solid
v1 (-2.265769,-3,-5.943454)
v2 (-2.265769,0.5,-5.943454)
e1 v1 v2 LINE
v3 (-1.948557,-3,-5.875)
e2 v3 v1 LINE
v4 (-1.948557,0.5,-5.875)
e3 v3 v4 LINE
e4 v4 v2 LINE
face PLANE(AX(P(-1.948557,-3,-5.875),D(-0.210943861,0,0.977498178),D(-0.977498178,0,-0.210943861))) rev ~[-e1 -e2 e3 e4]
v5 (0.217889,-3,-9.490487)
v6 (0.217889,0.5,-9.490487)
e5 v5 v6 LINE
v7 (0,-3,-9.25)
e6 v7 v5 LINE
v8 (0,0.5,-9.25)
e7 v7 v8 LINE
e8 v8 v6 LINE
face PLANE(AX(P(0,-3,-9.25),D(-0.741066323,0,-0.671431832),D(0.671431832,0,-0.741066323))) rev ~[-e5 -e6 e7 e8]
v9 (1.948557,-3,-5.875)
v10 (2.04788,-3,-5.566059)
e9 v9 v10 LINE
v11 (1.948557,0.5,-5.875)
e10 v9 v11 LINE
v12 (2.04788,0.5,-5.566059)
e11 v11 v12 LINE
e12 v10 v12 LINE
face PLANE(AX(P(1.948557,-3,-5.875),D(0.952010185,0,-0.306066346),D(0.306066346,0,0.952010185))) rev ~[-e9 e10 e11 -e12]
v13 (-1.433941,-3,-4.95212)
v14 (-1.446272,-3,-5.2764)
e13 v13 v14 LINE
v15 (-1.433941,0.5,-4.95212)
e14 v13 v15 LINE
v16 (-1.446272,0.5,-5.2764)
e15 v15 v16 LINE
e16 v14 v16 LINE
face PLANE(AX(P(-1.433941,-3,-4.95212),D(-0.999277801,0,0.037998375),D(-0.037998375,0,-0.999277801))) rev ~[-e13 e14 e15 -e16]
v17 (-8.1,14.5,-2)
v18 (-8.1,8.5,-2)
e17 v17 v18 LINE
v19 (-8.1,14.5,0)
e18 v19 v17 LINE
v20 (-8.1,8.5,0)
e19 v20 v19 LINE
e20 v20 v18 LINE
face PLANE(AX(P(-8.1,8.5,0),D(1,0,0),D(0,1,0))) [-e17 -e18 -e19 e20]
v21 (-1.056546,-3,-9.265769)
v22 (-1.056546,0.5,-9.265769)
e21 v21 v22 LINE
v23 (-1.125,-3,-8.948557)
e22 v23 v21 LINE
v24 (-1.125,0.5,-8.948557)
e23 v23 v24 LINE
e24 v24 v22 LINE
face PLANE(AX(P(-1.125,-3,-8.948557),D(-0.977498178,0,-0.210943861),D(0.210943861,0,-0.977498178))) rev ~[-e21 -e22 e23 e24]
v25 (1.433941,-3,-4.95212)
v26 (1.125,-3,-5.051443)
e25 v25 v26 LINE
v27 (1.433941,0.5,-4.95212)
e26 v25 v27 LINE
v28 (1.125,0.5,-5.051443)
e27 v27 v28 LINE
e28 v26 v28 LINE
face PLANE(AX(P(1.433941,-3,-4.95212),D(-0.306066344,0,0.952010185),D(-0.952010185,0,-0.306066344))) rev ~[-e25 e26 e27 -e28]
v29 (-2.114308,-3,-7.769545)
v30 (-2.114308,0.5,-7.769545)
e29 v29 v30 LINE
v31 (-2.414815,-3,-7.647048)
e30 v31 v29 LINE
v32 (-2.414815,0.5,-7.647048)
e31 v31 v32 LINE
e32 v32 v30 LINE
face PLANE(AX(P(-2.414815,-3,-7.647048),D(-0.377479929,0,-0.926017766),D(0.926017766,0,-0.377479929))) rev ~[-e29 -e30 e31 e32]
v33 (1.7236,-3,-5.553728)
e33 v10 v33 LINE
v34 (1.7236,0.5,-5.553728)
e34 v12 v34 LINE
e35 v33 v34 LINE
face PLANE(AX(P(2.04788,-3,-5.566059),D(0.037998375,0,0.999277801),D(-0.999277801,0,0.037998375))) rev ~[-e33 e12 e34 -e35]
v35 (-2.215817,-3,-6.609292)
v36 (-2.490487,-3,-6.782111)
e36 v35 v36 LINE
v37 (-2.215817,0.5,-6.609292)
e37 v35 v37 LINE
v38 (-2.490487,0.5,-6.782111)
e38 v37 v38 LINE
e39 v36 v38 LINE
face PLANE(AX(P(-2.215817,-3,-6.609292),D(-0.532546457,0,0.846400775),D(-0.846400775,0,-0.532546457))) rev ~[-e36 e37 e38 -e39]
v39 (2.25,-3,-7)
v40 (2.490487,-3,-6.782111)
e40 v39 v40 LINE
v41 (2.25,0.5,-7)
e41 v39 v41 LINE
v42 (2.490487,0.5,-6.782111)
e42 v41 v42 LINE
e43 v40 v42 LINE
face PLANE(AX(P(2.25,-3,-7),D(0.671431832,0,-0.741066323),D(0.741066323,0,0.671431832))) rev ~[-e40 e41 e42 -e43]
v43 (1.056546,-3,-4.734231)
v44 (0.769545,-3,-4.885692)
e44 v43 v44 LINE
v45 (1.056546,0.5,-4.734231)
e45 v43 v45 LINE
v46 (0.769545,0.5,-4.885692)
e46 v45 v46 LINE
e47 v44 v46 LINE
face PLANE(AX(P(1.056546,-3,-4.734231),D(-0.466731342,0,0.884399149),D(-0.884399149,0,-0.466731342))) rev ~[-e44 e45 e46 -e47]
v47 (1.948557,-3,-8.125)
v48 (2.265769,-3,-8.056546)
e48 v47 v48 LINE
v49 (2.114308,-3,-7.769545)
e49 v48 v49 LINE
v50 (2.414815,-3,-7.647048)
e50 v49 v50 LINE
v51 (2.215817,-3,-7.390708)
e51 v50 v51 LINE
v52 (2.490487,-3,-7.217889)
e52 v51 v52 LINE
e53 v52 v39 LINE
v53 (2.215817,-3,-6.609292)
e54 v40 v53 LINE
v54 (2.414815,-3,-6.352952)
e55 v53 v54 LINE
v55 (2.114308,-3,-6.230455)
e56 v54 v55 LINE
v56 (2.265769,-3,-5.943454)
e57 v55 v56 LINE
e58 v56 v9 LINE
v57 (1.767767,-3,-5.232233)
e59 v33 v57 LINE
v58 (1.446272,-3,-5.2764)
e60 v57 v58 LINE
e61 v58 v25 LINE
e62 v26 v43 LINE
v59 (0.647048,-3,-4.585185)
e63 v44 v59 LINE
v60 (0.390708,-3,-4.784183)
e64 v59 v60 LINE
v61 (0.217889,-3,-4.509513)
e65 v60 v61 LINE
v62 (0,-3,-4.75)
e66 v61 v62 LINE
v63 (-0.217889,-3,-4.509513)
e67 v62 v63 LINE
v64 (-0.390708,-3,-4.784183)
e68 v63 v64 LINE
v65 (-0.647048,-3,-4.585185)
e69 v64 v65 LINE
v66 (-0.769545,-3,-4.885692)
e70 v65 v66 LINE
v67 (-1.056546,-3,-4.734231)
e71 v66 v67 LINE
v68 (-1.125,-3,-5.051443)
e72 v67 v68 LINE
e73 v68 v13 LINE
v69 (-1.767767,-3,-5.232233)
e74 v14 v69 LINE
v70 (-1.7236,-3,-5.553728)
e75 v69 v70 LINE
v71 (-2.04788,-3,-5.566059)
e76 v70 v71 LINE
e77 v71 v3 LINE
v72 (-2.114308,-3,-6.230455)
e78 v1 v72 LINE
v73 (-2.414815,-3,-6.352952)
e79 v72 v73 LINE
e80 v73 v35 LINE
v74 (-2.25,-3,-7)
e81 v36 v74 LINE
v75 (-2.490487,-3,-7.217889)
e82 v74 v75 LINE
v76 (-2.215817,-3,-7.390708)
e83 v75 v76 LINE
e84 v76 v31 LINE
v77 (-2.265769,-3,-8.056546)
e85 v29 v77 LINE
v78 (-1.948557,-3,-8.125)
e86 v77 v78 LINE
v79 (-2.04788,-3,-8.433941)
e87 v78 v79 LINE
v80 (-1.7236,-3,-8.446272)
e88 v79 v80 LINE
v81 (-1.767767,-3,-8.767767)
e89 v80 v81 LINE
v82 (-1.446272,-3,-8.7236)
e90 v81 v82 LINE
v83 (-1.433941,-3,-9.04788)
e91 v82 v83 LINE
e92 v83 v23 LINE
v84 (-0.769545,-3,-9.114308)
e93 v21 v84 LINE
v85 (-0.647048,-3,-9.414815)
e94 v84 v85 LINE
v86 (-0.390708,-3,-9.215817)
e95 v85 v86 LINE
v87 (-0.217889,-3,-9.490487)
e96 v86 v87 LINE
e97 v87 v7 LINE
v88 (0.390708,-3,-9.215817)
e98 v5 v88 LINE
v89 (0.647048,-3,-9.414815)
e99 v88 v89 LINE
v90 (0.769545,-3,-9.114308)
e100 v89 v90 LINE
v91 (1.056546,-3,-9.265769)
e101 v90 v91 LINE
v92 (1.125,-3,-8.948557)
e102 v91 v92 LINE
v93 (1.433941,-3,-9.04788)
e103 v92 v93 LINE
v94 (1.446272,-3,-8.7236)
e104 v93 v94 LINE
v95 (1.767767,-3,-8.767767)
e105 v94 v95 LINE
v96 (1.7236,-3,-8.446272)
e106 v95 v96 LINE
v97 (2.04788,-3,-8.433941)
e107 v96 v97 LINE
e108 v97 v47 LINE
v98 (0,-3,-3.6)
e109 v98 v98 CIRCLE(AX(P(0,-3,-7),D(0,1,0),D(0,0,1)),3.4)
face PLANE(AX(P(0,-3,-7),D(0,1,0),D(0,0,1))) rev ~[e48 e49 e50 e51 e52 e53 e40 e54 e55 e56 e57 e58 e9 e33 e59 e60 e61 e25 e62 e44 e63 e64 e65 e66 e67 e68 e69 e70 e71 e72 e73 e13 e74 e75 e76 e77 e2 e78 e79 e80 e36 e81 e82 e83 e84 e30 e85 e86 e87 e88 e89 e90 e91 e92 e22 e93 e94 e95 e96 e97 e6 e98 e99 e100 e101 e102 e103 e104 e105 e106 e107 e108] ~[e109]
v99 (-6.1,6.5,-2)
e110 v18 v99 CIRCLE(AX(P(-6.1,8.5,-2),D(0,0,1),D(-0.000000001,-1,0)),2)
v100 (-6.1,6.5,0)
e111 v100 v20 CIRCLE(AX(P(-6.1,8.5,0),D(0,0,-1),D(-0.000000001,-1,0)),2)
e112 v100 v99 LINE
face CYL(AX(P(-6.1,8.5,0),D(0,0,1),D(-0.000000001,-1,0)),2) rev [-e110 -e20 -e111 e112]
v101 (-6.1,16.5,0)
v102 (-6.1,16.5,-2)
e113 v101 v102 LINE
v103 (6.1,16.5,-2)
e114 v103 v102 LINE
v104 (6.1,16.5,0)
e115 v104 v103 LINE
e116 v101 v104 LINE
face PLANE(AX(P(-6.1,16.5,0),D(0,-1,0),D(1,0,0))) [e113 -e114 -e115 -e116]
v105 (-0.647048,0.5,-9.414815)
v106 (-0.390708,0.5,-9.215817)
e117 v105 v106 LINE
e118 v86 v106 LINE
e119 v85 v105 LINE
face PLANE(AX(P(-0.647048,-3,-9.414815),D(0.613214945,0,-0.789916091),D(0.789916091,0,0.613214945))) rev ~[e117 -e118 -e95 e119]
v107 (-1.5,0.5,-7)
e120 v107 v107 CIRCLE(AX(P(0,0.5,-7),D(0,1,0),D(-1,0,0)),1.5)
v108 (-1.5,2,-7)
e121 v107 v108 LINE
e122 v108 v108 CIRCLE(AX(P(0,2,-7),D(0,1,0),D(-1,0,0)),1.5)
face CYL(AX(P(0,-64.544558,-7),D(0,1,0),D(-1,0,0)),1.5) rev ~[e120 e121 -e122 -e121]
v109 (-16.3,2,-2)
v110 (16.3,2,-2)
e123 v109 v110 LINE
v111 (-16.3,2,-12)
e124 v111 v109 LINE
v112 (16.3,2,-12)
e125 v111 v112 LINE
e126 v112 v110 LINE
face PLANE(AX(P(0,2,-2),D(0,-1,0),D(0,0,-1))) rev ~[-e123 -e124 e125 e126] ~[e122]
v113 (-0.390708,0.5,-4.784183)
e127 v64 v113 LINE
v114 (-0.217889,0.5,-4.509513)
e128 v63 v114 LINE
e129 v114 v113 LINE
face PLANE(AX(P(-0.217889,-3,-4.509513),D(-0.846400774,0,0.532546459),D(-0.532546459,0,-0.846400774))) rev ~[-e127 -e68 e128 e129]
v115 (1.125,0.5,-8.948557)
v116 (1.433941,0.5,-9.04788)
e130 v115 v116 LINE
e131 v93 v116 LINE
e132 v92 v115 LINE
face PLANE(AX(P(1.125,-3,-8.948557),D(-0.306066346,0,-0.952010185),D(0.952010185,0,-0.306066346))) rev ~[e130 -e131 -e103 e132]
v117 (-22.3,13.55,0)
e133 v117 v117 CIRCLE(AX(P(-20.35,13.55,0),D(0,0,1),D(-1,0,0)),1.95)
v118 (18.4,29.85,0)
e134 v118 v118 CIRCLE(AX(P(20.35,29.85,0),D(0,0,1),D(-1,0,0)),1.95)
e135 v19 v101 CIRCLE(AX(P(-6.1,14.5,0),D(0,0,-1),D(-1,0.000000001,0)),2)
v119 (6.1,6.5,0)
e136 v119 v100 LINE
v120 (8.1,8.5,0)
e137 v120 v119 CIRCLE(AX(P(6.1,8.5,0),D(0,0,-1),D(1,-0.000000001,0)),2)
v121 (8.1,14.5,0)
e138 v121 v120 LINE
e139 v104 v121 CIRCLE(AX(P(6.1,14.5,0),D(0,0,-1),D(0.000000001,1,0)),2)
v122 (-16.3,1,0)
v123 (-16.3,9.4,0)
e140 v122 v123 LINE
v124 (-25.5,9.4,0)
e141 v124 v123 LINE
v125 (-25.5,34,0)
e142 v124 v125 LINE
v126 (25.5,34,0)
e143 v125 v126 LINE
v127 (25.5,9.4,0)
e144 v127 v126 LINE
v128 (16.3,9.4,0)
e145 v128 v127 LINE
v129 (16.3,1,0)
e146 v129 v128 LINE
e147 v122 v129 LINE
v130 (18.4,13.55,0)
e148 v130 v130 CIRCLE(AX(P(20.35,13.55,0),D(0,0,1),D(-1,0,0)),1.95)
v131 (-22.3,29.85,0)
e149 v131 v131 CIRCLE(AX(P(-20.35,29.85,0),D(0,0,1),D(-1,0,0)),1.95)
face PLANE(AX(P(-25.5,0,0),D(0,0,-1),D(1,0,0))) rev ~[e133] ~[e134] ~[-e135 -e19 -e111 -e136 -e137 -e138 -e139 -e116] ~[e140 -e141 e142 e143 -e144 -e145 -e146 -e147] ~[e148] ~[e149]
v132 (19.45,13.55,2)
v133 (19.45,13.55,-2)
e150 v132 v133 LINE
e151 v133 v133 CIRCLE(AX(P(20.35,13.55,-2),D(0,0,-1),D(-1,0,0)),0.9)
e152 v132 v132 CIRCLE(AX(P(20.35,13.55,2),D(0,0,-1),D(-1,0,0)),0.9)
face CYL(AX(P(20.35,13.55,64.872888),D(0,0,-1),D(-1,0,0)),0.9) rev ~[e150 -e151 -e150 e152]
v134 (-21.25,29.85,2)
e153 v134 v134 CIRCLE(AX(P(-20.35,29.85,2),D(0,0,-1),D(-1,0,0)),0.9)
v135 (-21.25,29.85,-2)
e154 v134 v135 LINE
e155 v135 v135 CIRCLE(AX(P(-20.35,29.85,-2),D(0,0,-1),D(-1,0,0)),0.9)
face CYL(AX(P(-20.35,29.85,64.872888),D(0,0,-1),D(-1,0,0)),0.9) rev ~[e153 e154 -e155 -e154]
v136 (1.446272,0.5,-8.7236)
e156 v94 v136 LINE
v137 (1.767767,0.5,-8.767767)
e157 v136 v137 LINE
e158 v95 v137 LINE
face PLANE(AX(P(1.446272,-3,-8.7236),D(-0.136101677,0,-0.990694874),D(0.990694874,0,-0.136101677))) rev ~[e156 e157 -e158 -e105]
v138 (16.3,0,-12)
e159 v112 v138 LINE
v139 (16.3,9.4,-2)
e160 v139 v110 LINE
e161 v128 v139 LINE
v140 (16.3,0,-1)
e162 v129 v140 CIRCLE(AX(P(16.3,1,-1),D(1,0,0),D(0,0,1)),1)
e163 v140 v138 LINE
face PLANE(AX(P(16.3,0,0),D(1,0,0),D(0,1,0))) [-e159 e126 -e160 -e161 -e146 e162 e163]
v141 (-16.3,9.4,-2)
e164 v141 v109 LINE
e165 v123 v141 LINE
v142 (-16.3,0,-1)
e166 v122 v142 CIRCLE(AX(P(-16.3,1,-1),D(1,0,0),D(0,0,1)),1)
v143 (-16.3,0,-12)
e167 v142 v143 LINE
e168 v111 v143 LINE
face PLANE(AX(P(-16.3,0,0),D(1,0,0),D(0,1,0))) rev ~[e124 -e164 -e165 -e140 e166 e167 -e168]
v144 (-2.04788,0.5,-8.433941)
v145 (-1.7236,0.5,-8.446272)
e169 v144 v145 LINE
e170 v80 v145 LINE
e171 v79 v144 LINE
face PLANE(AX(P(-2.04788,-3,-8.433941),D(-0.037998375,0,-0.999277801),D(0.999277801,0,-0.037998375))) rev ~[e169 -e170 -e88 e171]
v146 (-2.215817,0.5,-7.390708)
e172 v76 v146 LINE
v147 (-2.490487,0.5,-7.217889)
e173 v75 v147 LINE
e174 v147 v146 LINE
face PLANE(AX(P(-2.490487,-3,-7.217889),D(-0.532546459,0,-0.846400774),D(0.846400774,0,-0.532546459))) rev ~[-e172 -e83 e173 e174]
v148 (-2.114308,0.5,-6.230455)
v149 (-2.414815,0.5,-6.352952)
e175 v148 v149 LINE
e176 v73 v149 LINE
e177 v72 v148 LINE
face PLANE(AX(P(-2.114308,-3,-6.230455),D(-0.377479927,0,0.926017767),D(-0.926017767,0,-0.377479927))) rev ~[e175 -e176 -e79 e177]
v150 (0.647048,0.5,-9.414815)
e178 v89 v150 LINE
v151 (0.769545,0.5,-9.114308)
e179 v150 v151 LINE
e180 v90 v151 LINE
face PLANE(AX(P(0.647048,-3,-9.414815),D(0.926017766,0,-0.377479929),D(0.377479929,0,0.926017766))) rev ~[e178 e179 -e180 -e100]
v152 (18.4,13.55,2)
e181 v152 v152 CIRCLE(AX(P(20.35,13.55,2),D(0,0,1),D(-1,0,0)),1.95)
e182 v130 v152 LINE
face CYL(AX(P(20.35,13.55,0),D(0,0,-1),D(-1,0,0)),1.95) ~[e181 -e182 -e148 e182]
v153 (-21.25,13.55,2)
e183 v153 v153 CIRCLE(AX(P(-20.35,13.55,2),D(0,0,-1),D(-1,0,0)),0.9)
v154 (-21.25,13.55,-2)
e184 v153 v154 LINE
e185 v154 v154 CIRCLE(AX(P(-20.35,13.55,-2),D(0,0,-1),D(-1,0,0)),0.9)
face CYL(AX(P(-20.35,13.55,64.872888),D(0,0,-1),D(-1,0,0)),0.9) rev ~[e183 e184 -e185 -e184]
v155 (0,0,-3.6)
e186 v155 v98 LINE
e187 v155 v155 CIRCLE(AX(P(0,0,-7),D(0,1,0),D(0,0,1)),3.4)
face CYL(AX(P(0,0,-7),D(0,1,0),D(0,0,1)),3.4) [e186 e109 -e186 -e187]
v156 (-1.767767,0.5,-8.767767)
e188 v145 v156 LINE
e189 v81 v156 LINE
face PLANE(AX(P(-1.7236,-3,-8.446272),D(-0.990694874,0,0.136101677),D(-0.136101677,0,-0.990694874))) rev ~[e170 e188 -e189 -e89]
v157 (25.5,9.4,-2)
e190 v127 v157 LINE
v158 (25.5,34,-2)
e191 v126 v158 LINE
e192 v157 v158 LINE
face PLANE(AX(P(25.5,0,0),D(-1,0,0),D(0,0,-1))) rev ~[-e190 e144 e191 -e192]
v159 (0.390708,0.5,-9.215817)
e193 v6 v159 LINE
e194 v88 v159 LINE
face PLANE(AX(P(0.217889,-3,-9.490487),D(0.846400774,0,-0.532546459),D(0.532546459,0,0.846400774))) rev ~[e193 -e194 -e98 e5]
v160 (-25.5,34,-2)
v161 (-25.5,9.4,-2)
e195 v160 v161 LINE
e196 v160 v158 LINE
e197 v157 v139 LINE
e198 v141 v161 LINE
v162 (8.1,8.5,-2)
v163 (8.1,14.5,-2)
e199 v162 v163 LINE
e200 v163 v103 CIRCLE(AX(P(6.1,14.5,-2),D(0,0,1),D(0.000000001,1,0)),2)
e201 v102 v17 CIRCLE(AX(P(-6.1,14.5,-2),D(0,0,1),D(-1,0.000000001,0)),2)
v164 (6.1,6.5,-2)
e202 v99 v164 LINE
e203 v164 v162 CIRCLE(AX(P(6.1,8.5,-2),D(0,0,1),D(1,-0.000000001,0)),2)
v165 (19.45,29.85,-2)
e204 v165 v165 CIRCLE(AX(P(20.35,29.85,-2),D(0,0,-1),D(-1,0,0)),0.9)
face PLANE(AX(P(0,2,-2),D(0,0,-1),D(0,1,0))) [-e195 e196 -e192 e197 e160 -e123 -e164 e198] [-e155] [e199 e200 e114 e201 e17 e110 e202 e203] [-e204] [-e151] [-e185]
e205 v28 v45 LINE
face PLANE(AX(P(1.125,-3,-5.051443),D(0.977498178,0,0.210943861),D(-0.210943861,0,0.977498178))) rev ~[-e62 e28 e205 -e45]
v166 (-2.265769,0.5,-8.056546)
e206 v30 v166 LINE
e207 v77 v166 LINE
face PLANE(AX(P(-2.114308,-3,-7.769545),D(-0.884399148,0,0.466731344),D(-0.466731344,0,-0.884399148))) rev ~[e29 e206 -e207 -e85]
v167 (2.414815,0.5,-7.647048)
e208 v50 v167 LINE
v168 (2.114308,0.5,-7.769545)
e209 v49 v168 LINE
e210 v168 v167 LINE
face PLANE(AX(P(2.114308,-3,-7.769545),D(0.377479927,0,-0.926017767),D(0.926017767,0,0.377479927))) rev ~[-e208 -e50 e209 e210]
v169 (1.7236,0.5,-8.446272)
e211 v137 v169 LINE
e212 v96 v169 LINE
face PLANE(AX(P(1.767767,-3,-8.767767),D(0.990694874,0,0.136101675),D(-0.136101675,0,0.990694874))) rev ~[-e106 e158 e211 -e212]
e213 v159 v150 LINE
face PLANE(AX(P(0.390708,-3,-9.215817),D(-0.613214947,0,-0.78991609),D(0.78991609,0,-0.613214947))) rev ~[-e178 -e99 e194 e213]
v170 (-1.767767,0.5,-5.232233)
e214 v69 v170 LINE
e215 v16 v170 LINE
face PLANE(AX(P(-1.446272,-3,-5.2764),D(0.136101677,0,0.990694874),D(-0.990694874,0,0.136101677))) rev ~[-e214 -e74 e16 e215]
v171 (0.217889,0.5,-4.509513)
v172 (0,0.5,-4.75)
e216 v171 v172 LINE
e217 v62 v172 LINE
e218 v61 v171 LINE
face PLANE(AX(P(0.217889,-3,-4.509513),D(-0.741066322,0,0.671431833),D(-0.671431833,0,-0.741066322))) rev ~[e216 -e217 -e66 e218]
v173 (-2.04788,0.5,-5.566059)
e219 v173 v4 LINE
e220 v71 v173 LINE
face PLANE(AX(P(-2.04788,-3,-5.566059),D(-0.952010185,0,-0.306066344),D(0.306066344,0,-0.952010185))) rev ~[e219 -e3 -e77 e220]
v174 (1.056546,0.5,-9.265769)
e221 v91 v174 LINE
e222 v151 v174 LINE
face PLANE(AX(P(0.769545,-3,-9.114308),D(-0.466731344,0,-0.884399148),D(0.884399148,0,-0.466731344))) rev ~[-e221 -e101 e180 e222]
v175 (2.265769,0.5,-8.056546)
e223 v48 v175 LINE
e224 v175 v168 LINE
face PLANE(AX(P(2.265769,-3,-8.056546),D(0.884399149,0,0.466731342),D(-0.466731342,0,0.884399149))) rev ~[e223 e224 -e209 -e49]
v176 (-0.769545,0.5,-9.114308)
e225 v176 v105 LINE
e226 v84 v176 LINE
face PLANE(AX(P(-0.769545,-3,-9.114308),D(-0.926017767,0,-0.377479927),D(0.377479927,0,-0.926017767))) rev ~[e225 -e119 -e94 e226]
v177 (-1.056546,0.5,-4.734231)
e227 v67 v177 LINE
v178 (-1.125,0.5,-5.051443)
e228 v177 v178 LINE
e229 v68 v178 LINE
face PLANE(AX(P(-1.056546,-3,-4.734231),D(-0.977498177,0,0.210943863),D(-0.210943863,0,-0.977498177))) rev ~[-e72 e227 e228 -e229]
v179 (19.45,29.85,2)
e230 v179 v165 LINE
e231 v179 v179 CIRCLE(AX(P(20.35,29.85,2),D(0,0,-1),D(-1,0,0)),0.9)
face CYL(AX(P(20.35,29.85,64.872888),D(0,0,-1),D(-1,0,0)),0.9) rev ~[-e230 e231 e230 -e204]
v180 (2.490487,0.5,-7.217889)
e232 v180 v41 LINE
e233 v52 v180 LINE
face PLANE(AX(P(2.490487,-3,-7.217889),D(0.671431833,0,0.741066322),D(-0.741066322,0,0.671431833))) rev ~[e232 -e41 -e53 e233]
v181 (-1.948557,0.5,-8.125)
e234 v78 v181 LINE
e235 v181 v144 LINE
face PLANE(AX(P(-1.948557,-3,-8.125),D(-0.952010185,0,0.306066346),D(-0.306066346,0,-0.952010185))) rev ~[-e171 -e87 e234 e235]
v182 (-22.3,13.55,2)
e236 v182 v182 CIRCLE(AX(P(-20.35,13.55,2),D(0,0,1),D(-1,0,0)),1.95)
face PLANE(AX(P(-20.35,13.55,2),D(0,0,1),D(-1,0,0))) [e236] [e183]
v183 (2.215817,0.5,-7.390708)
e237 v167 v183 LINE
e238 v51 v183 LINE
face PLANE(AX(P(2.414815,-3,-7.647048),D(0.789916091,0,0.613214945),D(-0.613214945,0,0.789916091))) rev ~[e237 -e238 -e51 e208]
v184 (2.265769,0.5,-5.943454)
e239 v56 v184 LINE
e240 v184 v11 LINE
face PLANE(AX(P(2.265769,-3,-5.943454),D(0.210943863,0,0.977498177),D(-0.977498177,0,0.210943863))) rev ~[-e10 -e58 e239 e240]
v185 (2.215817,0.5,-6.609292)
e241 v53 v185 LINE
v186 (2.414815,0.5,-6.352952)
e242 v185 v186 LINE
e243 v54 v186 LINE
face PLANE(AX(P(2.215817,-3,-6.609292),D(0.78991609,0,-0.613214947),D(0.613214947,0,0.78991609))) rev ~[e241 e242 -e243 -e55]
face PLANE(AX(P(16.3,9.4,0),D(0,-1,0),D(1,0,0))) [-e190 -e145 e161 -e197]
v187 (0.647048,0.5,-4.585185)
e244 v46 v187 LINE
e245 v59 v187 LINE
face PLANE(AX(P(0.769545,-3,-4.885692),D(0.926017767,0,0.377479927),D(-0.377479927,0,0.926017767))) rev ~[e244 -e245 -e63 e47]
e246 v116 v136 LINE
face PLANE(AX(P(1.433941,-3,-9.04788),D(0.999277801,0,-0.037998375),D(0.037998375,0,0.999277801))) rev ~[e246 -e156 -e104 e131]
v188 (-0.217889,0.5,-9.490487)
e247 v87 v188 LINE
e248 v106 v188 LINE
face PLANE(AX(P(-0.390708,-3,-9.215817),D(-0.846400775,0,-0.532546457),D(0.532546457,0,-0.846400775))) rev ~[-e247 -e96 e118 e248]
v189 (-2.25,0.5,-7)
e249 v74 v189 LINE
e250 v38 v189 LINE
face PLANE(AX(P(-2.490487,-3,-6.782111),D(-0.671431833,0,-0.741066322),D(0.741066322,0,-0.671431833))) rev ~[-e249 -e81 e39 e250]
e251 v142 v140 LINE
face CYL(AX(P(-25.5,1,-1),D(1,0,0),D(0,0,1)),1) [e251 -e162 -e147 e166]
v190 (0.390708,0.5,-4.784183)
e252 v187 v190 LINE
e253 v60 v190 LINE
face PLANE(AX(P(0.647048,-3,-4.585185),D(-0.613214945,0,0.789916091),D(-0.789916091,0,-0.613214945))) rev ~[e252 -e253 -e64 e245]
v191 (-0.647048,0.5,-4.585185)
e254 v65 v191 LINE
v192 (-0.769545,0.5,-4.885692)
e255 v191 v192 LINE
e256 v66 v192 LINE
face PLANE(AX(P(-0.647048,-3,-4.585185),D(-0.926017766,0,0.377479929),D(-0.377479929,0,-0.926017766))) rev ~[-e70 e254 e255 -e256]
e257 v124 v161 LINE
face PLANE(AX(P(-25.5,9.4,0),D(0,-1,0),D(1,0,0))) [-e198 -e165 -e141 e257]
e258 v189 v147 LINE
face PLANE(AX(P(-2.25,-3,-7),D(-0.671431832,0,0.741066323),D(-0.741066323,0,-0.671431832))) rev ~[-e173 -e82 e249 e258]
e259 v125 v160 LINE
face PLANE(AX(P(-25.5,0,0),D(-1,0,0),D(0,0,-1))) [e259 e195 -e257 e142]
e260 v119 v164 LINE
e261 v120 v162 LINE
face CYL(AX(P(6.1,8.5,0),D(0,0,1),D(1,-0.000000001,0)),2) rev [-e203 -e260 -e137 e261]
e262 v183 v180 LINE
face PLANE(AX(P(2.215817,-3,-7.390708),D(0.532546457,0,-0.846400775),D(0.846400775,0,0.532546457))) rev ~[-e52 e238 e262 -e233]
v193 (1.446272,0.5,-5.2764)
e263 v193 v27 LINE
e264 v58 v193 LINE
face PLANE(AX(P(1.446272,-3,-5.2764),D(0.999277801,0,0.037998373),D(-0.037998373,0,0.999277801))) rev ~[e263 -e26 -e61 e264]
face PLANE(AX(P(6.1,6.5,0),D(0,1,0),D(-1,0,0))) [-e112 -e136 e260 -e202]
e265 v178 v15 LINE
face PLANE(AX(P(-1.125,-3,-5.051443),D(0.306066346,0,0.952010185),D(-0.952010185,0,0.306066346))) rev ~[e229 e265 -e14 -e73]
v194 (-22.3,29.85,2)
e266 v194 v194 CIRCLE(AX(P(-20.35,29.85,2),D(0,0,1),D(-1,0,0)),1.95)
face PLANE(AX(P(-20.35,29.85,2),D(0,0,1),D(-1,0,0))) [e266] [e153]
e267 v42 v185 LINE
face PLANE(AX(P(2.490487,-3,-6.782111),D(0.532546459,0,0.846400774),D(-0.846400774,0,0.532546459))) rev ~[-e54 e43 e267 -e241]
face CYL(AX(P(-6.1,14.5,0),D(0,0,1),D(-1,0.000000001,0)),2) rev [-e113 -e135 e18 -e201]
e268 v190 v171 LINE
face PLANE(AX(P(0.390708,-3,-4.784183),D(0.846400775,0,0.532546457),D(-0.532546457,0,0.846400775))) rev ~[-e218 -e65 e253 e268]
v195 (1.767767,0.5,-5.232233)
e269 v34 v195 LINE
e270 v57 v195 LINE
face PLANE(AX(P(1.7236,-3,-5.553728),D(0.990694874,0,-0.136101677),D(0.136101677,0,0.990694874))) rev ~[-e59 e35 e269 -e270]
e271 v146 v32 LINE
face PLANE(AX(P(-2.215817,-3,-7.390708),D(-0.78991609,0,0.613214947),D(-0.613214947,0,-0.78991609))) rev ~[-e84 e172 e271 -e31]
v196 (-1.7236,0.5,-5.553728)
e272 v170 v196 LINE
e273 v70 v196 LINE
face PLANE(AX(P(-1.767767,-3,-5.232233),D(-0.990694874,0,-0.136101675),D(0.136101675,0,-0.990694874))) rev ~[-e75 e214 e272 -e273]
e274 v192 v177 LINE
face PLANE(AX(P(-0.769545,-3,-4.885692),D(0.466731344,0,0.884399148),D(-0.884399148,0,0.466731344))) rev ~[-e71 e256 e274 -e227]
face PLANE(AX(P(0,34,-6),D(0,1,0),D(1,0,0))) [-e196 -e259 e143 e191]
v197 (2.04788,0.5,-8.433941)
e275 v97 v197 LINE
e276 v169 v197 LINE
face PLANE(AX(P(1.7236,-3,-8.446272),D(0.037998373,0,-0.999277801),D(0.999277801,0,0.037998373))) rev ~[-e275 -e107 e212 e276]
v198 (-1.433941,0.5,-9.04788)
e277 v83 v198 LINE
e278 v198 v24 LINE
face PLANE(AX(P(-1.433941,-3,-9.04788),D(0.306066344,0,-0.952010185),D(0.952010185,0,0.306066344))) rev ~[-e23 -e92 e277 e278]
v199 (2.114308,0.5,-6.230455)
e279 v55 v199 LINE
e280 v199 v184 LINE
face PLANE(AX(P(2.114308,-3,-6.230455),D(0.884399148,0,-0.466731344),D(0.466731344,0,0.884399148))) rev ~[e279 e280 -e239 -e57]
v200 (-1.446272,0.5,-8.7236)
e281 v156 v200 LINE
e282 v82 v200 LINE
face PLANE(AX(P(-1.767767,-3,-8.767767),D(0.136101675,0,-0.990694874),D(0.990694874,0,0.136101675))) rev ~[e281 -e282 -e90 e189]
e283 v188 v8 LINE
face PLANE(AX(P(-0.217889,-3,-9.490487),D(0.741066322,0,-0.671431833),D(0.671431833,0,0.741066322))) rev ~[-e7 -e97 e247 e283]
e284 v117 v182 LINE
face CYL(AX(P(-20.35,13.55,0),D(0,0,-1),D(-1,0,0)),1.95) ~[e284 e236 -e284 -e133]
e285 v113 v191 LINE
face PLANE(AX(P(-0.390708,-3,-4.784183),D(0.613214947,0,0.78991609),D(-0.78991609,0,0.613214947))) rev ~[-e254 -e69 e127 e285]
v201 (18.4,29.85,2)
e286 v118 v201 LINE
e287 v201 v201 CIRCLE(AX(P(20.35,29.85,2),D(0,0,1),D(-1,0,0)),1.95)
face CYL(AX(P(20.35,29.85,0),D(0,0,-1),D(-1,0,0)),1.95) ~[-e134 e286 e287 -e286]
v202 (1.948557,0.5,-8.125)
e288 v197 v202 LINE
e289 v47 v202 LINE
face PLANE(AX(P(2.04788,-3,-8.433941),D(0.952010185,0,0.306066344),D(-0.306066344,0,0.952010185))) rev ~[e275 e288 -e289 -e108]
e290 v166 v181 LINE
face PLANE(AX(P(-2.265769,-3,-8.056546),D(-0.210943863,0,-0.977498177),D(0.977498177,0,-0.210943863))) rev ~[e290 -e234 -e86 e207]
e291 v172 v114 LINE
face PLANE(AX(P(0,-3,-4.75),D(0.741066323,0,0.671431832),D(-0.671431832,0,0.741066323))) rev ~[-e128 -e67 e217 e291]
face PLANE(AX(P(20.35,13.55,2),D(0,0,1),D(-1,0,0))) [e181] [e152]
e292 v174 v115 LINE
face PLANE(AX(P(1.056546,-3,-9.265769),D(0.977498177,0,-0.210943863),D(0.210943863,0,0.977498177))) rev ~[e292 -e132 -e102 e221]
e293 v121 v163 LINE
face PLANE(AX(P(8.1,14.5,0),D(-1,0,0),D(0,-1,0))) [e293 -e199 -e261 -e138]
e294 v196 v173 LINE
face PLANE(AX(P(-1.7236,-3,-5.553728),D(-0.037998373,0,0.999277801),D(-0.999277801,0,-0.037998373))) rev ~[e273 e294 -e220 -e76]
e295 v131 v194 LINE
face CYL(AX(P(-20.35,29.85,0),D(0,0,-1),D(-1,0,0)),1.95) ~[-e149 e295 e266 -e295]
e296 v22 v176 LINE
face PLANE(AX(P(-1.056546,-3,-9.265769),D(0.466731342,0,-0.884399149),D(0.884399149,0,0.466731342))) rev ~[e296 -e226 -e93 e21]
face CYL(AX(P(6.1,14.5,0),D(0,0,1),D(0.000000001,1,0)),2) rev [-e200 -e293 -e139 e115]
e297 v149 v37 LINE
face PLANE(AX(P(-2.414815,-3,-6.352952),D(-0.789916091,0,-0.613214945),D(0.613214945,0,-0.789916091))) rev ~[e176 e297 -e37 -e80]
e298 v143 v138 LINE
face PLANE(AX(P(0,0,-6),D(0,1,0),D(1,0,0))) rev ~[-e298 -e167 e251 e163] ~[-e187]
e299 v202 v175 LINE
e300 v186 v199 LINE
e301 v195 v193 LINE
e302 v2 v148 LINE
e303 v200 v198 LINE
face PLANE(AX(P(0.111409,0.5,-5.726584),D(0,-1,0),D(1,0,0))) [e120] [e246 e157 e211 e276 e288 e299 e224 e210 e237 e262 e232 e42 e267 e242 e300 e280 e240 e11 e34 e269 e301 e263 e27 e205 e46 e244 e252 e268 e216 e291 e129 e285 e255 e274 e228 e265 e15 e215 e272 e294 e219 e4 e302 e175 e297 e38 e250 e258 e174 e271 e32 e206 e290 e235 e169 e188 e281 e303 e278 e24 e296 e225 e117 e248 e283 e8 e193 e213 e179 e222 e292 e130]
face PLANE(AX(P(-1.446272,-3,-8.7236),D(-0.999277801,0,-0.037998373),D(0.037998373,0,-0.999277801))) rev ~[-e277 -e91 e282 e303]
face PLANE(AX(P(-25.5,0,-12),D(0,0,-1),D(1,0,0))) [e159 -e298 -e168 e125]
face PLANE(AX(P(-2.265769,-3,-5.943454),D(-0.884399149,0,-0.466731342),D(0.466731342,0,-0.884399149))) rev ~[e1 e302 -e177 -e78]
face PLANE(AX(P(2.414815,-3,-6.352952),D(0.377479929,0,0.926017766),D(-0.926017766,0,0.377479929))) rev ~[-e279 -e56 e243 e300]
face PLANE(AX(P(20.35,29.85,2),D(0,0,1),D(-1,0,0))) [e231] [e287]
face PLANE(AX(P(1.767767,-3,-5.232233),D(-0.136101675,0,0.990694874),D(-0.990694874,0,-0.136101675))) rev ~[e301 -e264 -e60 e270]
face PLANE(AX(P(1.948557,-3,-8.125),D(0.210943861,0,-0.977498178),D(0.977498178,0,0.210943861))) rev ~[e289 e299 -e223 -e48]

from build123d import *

# Parameters (mm, degrees)
SKETCH1_W               = 51
SKETCH1_H               = 12
BRACKET_SIZE_DEPTH      = 34
SKETCH2_W               = 10
SKETCH2_H               = 32
SIDE_PROFILE_DEPTH      = 45.161634934
SIDE_PROFILE_DEPTH_BACK = 45.161634934
FILLET1_R               = 1
SKETCH3_W               = 9.2
SKETCH3_H               = 9.4
BASE_TRIM_DEPTH         = 45.161634934
WIRE_REILEF_HOLE_DEPTH  = 45.161634934
SKETCH5_R               = 1.95
SPACER_DEPTH            = 2
M1_6_CLEARANCE_HOLE1_D  = 1.8
SKETCH8_R               = 3.4
SERVO_SPACER_DEPTH      = 3
SPLINE_TOOTH_DEPTH      = 3.5
SPLINE_COUNT            = 36
M2_CLEARANCE_HOLE1_D    = 3


with BuildPart() as part:
    # Sketch1 → Bracket Size (new body)
    with BuildSketch(Plane(origin=(0, 0, 0), x_dir=(1, 0, 0), z_dir=(0, 1, 0))):
        with Locations((0, 6)):
            Rectangle(SKETCH1_W, SKETCH1_H)
    extrude(amount=BRACKET_SIZE_DEPTH)

    # Sketch2 → Side Profile (cut, two sides)
    with BuildSketch(Plane(origin=(0, 0, 0), x_dir=(0, 0, -1), z_dir=(1, 0, 0))) as side_profile_sk:
        with Locations((7, 18)):
            Rectangle(SKETCH2_W, SKETCH2_H)
    extrude(amount=SIDE_PROFILE_DEPTH, mode=Mode.SUBTRACT)
    extrude(side_profile_sk.sketch, amount=-SIDE_PROFILE_DEPTH_BACK, mode=Mode.SUBTRACT)

    # Fillet1
    fillet1_edges = [part.edges().sort_by_distance(p)[0] for p in [
        (0, 0, 0),
    ]]
    fillet(fillet1_edges, radius=FILLET1_R)

    # Sketch3 → Base Trim (cut, through all)
    with BuildSketch(Plane.XY):
        with Locations((20.9, 4.7)):
            Rectangle(SKETCH3_W, SKETCH3_H)
        with Locations((-20.9, 4.7)):
            Rectangle(SKETCH3_W, SKETCH3_H)
    extrude(amount=-BASE_TRIM_DEPTH, mode=Mode.SUBTRACT)

    # Sketch4 → Wire Reilef Hole (cut, through all)
    with BuildSketch(Plane.XY):
        with BuildLine():
            Line((-6.1, 16.5), (6.1, 16.5))
            ThreePointArc((6.1, 16.5), (7.514213562, 15.914213562), (8.1, 14.5))
            Line((8.1, 14.5), (8.1, 8.5))
            ThreePointArc((8.1, 8.5), (7.514213562, 7.085786438), (6.1, 6.5))
            Line((6.1, 6.5), (-6.1, 6.5))
            ThreePointArc((-6.1, 6.5), (-7.514213562, 7.085786438), (-8.1, 8.5))
            Line((-8.1, 8.5), (-8.1, 14.5))
            ThreePointArc((-8.1, 14.5), (-7.514213562, 15.914213562), (-6.1, 16.5))
        make_face()
    extrude(amount=-WIRE_REILEF_HOLE_DEPTH, mode=Mode.SUBTRACT)

    # Sketch5 → Spacer (add)
    with BuildSketch(Plane.XY):
        with Locations(Location((-20.35, 29.85, 0), (0, 0, 180))):
            Circle(SKETCH5_R)
    spacer = extrude(amount=SPACER_DEPTH)

    # M1.6 Clearance Hole1 (through all)
    with Locations(Plane.XY.offset(2)):
        with Locations((-20.35, 29.85)):
            m1_6_clearance_hole1 = Hole(M1_6_CLEARANCE_HOLE1_D / 2)

    # Spacer Pattern: Spacer, M1.6 Clearance Hole1 at 3 more places
    with Locations((0, -16.3, 0), (40.7, -16.3, 0), (40.7, 0, 0)):
        add(spacer)
        add(m1_6_clearance_hole1, mode=Mode.SUBTRACT)

    # Sketch8 → Servo Spacer (add)
    with BuildSketch(Plane(origin=(0, 0, 0), x_dir=(1, 0, 0), z_dir=(0, 1, 0))):
        with Locations(Location((0, 7, 0), (0, 0, 270))):
            Circle(SKETCH8_R)
    extrude(amount=-SERVO_SPACER_DEPTH)

    # Sketch9 → Spline Tooth (cut)
    with BuildSketch(Plane.XZ.offset(3)):
        Polygon((0.39070839, -4.78418261), (0.217889353, -4.509513302), (0, -4.750000055), (0, -7), align=None)
    spline_tooth = extrude(amount=-SPLINE_TOOTH_DEPTH, mode=Mode.SUBTRACT)

    # Spline: Spline Tooth ×36 about axis
    spline_axis = Axis((0, 0, -7), (0, 1, 0))
    for i in range(1, SPLINE_COUNT):
        add(spline_tooth.rotate(spline_axis, i * 360 / SPLINE_COUNT), mode=Mode.SUBTRACT)

    # M2 Clearance Hole1 (through all)
    with Locations(Plane.XZ):
        with Locations((0, -7)):
            Hole(M2_CLEARANCE_HOLE1_D / 2)


solid = part.part
